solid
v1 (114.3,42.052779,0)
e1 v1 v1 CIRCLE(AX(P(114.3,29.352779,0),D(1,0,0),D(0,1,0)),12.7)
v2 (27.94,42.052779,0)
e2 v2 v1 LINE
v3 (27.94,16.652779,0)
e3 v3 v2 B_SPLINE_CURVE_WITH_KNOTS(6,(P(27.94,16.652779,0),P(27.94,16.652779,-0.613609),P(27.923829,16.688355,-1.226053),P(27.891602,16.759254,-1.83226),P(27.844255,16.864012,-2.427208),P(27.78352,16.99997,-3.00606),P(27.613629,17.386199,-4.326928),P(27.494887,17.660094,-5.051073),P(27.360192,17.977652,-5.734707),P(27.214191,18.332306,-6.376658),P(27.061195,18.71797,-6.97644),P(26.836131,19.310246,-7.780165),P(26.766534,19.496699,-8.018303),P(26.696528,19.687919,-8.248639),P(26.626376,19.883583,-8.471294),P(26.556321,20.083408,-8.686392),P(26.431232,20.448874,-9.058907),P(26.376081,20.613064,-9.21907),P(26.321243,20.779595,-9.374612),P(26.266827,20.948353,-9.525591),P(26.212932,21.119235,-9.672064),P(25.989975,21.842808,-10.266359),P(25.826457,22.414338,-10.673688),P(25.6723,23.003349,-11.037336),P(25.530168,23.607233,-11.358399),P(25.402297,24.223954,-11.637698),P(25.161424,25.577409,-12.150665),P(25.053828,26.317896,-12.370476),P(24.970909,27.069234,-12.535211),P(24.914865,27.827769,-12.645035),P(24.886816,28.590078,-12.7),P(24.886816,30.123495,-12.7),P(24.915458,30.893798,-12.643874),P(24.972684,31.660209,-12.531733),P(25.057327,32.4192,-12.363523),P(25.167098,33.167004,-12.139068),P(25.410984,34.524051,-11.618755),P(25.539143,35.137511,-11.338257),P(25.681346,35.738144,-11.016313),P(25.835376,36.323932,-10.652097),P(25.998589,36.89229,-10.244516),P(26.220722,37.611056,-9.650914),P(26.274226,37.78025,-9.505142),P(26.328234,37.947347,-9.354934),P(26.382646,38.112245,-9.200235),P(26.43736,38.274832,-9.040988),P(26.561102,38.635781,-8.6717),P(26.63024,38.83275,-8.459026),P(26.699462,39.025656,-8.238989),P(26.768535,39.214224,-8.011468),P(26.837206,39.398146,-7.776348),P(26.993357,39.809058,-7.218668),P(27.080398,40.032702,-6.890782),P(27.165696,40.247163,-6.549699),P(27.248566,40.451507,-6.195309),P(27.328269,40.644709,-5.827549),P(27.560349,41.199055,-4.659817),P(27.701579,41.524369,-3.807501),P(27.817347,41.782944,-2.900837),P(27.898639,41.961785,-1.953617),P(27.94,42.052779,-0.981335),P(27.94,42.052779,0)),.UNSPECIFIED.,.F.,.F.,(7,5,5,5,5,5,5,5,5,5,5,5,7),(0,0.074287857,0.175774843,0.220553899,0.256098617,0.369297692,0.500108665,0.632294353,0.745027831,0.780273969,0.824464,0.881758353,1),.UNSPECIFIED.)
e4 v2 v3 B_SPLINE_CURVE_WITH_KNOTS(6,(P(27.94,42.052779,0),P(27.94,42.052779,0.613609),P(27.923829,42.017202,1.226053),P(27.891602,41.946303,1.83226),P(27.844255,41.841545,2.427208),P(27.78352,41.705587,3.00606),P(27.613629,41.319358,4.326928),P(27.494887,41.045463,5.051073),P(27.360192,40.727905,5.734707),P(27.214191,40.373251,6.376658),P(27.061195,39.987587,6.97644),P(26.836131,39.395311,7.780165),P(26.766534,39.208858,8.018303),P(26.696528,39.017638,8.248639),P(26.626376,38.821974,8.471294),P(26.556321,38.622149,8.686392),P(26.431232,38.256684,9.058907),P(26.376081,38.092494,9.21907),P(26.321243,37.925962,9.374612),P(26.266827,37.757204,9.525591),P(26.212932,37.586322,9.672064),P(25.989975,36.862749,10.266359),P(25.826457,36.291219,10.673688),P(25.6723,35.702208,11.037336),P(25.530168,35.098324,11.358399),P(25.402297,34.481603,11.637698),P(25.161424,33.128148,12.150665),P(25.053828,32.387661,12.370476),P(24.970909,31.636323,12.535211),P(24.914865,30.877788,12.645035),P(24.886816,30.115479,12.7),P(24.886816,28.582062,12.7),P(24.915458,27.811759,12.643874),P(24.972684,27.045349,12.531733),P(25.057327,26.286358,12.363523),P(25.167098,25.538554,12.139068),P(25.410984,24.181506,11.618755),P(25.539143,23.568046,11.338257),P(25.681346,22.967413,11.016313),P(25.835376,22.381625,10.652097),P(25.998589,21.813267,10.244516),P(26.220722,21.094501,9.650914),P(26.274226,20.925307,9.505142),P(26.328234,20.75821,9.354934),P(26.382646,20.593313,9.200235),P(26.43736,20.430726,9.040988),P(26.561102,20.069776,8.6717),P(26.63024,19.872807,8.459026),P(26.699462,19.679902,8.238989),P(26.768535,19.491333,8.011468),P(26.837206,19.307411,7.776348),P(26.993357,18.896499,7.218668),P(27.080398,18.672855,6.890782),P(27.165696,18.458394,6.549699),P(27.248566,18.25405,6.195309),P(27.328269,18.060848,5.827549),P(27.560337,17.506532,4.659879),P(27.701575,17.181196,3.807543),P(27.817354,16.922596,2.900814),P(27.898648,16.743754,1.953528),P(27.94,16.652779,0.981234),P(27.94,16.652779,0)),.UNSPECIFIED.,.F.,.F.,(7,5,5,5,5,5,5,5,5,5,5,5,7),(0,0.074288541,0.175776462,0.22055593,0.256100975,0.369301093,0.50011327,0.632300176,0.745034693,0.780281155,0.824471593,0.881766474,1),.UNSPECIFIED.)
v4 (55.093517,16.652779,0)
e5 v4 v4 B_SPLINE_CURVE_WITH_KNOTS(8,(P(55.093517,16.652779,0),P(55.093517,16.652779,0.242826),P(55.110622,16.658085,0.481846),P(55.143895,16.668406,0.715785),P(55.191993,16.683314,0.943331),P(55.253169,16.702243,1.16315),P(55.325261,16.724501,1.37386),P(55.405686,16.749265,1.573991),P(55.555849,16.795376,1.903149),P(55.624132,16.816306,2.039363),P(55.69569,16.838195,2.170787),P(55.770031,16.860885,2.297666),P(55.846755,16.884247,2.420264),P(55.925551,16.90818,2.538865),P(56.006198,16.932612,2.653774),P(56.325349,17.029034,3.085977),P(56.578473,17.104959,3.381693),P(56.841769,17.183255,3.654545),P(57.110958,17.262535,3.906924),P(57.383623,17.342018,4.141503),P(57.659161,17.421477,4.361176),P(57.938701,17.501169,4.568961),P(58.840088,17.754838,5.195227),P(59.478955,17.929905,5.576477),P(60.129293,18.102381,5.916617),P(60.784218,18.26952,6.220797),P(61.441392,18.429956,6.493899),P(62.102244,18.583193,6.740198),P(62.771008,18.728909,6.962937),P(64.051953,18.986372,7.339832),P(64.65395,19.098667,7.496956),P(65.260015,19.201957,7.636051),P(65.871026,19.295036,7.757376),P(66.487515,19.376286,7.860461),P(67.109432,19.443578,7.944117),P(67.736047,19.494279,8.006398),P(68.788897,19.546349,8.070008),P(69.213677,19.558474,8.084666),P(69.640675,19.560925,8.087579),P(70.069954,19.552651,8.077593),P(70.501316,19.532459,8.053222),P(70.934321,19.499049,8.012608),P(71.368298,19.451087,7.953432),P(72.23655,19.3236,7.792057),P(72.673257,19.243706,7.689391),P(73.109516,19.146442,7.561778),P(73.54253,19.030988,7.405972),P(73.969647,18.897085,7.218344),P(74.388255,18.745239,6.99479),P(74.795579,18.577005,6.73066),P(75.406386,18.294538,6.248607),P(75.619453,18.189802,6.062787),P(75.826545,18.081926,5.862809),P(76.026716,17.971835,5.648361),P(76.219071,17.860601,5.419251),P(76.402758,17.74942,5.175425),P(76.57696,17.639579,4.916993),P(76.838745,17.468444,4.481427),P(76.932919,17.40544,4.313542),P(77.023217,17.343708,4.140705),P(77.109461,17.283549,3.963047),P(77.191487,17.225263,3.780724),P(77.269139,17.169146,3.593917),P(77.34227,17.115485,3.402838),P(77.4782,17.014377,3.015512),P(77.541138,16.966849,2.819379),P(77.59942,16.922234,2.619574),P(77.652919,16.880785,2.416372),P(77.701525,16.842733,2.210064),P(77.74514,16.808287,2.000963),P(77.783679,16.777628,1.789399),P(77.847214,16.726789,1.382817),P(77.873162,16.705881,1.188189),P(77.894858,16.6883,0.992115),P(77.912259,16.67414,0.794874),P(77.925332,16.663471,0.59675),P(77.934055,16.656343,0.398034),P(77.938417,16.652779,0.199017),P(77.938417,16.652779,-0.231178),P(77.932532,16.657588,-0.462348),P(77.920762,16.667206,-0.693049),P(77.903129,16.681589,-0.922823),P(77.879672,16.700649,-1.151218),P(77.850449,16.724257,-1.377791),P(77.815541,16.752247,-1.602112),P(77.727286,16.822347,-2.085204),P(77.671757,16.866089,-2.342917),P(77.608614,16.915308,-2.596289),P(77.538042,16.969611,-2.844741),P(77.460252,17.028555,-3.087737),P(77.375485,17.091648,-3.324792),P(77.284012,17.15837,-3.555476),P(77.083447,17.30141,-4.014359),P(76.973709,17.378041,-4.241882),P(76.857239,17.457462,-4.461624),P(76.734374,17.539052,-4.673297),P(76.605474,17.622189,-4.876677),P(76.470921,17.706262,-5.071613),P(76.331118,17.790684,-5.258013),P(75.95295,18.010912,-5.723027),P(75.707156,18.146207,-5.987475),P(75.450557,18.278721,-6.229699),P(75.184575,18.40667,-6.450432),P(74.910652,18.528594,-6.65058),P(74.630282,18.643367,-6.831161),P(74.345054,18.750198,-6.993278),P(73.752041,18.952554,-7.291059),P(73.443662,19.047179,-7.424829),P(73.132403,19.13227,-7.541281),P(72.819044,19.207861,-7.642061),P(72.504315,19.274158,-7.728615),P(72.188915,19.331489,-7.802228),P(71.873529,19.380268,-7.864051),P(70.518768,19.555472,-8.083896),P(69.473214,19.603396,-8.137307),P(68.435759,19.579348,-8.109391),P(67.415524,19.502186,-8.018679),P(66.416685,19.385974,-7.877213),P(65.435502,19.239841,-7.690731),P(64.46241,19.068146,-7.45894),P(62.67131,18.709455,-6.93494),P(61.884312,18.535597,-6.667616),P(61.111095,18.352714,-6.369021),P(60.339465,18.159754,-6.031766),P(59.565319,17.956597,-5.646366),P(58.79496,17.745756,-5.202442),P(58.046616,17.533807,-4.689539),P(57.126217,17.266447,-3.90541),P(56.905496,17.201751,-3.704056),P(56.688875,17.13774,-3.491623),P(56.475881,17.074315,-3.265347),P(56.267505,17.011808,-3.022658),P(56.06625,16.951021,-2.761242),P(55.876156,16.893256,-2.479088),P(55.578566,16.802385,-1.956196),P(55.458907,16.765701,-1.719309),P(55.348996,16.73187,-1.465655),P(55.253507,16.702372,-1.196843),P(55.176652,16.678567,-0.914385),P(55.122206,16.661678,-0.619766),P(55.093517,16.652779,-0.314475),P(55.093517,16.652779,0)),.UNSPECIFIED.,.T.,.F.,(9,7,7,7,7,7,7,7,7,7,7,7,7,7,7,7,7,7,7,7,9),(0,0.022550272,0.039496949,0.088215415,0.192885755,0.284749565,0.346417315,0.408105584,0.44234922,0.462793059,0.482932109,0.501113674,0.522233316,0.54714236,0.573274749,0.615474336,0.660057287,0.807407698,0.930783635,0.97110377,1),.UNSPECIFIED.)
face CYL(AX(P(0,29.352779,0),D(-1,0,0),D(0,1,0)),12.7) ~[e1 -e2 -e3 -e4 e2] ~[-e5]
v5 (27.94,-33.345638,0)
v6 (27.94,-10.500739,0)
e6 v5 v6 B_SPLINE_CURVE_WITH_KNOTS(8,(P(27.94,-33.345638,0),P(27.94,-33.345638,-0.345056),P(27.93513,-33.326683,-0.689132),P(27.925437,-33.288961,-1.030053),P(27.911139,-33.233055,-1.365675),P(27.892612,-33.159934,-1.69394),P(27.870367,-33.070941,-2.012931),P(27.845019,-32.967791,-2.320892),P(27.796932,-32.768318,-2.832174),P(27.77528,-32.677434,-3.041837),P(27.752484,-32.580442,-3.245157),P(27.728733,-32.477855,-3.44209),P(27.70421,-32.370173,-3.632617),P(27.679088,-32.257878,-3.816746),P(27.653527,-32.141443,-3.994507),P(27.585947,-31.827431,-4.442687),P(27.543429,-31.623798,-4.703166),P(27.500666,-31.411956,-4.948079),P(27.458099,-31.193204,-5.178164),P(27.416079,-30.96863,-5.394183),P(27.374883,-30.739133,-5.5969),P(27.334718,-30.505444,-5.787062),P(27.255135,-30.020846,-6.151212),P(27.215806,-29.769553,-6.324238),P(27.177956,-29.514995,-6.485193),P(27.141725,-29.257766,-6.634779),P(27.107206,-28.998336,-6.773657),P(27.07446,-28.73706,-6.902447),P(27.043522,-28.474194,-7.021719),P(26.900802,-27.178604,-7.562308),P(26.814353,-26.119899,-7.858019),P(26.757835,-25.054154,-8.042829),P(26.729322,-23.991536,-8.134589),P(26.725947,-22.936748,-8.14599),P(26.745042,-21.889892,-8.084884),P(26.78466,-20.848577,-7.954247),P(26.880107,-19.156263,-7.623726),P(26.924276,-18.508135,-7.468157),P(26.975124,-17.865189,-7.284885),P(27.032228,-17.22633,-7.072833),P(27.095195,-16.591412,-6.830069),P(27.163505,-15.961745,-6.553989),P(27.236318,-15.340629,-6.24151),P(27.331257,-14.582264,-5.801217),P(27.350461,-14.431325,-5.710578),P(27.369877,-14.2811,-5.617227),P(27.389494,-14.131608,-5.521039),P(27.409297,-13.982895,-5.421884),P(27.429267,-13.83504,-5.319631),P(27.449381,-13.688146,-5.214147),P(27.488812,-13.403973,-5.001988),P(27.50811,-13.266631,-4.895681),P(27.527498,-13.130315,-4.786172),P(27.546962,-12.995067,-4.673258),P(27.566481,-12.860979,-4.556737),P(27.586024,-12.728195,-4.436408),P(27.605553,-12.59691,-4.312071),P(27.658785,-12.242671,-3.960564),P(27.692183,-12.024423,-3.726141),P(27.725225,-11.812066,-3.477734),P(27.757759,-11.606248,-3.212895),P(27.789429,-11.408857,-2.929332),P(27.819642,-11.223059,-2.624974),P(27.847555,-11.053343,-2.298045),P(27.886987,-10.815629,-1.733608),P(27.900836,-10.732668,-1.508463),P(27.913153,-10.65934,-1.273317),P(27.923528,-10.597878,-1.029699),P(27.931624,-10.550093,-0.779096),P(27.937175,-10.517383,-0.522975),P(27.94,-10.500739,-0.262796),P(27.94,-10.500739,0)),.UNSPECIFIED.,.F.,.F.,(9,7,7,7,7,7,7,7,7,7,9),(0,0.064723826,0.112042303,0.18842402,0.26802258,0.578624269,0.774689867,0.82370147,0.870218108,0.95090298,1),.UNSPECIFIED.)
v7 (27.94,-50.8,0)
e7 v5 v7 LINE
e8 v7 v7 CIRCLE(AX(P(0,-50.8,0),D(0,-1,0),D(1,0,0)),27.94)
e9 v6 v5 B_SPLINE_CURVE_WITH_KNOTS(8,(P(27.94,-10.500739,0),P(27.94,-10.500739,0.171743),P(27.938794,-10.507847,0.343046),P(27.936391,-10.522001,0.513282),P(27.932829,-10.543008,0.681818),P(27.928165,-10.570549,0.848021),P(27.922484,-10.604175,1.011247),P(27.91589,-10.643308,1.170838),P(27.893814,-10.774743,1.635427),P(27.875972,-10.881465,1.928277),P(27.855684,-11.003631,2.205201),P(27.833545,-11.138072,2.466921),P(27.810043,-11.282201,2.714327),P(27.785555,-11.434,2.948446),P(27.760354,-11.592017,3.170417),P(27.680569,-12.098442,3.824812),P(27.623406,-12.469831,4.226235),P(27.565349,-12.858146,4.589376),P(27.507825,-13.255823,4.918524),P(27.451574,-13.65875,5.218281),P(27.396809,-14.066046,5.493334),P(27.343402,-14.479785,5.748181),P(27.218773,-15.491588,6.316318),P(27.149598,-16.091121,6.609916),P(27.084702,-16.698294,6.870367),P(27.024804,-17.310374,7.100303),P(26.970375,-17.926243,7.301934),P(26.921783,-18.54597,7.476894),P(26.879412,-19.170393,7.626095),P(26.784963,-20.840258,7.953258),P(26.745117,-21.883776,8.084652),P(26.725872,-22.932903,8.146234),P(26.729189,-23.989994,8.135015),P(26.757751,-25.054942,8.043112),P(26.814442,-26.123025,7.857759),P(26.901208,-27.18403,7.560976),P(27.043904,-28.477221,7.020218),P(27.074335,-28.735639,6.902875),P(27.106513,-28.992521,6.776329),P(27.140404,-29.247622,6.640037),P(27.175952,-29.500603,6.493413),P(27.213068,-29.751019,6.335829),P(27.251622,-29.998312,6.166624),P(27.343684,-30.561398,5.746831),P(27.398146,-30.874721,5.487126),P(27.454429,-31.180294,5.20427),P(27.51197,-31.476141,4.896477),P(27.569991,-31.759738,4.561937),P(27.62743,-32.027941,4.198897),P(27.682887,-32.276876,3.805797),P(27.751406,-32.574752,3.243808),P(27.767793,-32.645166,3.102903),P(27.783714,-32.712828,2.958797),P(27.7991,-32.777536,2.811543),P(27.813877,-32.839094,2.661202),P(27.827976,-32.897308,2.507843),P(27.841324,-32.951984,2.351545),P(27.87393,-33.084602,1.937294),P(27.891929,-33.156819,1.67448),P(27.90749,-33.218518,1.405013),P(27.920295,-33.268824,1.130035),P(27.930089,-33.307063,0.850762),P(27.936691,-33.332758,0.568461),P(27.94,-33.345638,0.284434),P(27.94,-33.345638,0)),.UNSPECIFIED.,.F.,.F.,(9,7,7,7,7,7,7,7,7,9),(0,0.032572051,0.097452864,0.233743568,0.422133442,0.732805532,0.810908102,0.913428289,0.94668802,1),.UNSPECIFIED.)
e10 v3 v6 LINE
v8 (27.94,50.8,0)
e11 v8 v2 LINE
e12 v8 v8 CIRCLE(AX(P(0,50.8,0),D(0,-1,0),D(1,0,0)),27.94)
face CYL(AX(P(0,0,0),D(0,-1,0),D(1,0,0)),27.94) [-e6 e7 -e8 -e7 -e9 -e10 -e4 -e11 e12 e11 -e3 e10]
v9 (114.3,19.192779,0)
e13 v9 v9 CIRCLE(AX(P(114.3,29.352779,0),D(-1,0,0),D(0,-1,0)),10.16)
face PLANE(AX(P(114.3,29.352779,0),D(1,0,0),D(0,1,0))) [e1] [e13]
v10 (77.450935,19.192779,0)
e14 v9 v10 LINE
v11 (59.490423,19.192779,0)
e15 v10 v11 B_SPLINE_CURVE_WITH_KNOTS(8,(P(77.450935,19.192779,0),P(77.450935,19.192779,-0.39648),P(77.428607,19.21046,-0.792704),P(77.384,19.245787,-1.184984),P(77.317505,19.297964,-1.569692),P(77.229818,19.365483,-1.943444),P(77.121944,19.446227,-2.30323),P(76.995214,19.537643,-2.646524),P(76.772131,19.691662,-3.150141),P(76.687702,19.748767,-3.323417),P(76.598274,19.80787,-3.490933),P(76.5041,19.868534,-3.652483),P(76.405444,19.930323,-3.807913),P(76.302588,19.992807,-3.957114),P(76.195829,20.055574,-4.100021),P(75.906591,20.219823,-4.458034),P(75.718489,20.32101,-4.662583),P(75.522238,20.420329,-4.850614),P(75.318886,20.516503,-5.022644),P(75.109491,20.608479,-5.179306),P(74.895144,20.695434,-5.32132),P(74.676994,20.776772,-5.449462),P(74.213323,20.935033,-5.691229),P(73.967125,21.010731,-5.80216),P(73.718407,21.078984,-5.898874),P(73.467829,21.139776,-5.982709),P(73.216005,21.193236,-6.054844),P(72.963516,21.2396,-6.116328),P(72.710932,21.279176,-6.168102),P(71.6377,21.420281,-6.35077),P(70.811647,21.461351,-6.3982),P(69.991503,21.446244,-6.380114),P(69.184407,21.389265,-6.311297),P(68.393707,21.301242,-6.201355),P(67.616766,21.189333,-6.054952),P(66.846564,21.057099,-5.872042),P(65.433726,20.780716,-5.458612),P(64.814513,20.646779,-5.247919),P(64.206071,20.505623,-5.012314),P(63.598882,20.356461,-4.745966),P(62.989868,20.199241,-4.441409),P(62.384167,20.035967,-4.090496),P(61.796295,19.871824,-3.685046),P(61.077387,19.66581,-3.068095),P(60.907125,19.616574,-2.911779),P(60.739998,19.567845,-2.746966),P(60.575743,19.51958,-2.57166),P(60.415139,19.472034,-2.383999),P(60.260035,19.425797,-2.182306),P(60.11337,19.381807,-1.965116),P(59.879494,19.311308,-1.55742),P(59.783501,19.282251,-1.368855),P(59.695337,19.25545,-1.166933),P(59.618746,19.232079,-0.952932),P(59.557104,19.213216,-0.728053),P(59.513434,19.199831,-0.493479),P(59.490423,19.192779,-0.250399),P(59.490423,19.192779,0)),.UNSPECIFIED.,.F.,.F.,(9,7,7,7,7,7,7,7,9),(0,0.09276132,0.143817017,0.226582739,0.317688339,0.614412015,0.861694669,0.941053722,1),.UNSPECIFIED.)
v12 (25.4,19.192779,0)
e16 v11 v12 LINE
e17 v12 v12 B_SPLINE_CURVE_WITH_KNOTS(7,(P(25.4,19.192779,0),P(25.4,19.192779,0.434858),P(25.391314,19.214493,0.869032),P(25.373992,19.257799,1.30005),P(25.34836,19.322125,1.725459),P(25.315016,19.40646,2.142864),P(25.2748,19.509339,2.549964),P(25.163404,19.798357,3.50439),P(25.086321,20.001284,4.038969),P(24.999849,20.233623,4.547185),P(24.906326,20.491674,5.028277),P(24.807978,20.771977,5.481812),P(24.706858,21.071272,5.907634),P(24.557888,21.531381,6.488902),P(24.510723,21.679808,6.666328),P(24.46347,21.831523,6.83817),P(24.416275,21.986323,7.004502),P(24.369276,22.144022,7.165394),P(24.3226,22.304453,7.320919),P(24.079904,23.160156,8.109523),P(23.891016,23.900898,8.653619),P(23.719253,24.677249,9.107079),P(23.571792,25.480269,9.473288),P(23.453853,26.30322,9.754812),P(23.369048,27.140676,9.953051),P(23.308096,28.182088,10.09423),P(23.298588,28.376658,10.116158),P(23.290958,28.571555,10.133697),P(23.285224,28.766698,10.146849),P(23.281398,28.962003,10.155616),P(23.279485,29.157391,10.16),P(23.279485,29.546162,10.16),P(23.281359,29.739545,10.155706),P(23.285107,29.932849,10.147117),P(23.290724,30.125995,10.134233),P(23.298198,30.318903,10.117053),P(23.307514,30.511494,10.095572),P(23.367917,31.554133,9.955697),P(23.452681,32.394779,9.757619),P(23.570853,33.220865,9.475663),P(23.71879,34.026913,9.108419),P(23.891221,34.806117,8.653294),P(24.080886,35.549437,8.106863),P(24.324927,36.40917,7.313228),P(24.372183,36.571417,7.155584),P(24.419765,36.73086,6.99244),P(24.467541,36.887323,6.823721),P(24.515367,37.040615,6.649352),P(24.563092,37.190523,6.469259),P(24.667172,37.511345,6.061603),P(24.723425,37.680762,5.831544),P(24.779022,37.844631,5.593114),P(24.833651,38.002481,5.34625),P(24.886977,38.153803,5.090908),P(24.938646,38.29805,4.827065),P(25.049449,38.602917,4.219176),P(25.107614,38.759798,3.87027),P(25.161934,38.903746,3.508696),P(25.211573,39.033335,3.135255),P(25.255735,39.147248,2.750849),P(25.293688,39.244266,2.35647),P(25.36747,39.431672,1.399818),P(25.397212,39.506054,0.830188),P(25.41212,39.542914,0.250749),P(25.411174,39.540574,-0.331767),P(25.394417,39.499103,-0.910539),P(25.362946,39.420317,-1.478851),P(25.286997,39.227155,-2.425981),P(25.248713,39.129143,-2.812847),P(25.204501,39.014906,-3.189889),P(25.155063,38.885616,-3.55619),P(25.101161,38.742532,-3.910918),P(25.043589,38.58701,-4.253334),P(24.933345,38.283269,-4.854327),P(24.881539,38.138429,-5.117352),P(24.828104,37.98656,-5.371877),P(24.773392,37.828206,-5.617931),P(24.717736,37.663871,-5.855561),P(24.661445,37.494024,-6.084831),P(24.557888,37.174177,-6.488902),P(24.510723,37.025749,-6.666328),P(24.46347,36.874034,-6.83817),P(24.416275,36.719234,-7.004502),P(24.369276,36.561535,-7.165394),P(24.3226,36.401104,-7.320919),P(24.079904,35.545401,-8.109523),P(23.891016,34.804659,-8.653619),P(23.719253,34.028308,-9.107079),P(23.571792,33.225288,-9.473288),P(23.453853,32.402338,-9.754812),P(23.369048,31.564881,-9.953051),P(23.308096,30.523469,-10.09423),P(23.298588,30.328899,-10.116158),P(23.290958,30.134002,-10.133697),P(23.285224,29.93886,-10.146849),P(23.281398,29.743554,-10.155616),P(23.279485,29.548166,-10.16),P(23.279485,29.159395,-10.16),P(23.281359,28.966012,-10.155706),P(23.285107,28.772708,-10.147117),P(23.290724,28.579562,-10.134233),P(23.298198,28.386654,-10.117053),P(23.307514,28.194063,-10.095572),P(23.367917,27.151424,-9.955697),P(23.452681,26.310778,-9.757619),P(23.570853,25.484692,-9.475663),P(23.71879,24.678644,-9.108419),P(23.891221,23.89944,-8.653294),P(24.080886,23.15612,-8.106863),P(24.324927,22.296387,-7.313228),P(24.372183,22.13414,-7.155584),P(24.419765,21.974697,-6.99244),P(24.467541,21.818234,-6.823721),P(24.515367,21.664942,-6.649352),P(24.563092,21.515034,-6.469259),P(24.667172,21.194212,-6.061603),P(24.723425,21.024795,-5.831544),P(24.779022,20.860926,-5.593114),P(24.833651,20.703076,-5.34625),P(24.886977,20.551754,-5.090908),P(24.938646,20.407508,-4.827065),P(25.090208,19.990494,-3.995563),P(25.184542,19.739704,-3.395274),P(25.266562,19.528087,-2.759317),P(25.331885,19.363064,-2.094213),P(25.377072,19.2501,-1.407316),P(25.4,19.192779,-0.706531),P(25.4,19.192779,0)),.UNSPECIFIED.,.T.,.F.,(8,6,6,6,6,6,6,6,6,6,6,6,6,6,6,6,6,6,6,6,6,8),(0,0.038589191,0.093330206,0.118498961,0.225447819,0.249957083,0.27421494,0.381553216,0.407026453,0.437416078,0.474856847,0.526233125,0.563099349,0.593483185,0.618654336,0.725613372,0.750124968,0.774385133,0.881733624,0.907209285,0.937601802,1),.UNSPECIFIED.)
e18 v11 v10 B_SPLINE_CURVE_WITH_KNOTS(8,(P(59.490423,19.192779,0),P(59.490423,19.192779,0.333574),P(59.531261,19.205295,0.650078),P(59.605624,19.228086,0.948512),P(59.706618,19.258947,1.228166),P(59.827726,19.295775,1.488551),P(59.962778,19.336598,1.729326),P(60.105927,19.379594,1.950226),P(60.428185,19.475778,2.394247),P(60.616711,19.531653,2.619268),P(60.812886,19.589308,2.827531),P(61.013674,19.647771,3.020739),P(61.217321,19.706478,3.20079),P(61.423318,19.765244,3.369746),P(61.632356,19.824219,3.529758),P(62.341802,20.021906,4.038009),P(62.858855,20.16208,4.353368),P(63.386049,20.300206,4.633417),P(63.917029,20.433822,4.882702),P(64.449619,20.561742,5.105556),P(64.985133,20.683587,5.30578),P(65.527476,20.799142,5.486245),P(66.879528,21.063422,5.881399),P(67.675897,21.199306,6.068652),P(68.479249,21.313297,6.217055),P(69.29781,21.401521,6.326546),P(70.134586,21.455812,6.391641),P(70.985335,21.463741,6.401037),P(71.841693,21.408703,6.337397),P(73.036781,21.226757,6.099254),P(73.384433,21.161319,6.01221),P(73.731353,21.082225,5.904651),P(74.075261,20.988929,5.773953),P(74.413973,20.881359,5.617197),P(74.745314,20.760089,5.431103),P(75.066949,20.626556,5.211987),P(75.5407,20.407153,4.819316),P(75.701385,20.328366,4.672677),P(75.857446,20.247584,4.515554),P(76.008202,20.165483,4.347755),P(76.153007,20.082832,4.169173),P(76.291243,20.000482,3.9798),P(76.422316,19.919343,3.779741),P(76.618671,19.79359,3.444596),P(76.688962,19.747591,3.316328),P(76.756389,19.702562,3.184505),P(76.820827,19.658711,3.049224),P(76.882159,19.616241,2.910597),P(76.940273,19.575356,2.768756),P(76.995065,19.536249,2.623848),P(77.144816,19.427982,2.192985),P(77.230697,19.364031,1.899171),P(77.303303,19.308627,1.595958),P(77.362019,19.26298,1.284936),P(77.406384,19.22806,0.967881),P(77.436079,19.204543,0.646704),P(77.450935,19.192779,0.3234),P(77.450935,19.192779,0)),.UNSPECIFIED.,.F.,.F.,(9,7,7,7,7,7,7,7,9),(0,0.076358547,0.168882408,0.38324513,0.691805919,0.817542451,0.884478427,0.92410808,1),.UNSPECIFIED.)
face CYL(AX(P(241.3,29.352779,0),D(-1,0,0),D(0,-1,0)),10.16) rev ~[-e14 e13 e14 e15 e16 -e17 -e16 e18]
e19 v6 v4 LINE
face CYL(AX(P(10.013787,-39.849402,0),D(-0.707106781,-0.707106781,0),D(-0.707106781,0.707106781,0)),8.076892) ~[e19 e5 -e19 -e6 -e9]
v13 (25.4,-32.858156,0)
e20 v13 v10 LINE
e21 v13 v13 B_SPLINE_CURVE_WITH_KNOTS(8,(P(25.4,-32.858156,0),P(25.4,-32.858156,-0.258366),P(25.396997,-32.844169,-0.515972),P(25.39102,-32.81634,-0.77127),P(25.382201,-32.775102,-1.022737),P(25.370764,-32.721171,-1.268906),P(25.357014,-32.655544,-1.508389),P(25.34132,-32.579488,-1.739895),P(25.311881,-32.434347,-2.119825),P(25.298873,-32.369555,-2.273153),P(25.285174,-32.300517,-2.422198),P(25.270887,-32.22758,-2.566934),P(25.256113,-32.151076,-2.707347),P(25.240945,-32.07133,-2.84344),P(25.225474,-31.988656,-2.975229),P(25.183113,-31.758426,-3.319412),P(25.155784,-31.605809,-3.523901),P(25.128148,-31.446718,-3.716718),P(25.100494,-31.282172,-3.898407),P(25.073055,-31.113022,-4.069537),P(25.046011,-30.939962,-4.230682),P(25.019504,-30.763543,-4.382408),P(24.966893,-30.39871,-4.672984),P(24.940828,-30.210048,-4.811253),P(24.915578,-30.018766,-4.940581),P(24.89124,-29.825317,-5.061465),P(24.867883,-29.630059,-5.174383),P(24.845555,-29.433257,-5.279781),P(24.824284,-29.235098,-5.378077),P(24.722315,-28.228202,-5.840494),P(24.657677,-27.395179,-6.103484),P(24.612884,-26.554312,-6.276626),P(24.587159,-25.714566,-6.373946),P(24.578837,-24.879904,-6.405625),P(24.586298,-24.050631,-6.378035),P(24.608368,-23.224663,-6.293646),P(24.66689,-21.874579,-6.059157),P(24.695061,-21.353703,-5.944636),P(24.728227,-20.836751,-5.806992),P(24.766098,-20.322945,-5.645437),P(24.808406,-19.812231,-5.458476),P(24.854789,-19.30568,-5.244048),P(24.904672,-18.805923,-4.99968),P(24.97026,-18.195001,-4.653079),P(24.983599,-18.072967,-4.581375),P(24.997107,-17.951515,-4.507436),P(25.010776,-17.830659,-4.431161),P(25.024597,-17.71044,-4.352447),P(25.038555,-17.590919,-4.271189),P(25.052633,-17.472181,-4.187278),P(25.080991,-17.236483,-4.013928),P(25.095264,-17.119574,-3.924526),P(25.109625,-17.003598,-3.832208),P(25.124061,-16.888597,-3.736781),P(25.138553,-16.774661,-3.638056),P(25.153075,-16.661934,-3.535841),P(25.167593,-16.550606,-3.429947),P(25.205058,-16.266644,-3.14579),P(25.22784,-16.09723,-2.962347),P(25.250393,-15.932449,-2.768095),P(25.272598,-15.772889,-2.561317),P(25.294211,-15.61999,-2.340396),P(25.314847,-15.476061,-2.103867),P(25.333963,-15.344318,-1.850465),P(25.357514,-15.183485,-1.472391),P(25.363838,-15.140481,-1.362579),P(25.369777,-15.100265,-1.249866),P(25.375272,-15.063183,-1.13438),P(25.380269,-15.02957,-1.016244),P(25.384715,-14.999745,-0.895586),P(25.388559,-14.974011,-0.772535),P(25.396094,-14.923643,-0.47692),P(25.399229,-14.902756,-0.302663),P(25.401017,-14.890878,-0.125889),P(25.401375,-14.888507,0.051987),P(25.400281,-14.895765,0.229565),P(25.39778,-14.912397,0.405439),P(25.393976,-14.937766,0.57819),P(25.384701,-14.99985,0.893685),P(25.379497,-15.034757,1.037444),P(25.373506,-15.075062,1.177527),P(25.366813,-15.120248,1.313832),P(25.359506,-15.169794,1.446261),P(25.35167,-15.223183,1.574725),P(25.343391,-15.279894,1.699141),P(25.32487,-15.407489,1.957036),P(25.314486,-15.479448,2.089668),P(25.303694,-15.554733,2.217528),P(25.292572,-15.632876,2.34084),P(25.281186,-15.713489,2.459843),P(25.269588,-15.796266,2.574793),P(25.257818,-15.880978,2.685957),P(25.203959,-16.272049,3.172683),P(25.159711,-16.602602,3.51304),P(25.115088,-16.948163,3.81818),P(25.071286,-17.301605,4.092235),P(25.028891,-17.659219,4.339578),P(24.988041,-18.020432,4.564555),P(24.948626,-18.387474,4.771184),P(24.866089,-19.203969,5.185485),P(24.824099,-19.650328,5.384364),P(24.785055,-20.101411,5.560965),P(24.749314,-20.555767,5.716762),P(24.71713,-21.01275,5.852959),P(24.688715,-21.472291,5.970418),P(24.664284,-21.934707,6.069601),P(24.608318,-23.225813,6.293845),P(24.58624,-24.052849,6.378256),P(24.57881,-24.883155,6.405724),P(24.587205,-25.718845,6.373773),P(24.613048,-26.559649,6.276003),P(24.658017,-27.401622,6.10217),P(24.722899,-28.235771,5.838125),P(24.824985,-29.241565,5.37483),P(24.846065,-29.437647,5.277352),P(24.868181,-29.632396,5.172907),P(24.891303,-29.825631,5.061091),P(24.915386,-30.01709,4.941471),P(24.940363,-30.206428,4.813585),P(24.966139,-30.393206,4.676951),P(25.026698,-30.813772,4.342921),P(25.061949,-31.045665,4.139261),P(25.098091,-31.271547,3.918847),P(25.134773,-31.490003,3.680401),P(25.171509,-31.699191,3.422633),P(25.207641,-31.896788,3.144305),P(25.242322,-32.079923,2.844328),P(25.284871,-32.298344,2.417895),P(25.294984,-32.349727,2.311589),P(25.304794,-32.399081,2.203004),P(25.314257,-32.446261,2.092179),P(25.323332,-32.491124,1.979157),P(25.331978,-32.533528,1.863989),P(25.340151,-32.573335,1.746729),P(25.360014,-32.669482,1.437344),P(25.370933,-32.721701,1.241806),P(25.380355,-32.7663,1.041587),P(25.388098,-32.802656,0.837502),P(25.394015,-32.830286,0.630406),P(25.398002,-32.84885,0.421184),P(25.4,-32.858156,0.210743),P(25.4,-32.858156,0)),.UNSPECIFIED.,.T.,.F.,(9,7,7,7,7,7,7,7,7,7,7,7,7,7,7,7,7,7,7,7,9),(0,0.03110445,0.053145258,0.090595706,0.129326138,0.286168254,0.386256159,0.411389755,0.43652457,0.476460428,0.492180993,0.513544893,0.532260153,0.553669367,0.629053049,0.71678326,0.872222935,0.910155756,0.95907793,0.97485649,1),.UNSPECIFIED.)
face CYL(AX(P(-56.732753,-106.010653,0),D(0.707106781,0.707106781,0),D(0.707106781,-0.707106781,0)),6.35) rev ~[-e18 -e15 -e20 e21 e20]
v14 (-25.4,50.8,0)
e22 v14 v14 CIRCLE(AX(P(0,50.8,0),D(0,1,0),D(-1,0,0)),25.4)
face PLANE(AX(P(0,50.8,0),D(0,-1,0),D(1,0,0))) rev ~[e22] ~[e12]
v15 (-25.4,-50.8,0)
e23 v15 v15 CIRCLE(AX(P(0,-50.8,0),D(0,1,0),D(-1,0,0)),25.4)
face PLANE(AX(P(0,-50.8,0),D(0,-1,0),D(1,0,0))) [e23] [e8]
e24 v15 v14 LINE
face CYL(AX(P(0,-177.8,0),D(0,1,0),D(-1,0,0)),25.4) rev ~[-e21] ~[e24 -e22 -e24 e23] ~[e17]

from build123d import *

# Parameters (mm, degrees)
F0_R      = 27.94
F1_DEPTH  = 50.8
F2_R      = 12.7
F3_DEPTH  = 114.3
F6_R      = 8.0768917326
F7_DEPTH  = 97.32637
F9_D      = 20.32
F9_DEPTH  = 127
F9_TIP    = 6.1047438893
F11_D     = 50.8
F11_DEPTH = 127
F11_TIP   = 15.2618597233
F13_D     = 12.7
F13_DEPTH = 93.98
F13_TIP   = 3.8154649308


with BuildPart() as f1:
    # F0 (on Front) → F1 (new body, symmetric)
    with BuildSketch(Plane.XZ):
        Circle(F0_R)
    extrude(amount=F1_DEPTH, both=True)

    # F2 (on Right) → F3 (join)
    with BuildSketch(Plane.YZ):
        with Locations((29.3527785689, 0)):
            Circle(F2_R)
    extrude(amount=F3_DEPTH)

    # F6 (on face) → F7 (join)
    with BuildSketch(Plane(origin=(-14.9178076535, -14.9178076535, 0), x_dir=(-0.7071067812, 0.7071067812, 0), z_dir=(0.7071067812, 0.7071067812, 0))):
        with Locations((-35.2585986257, 0)):
            Circle(F6_R)
    extrude(amount=F7_DEPTH)

    # F9
    with Locations(Plane.YZ.offset(114.3)):
        with Locations((29.3527785689, 0)):
            Hole(F9_D / 2, depth=F9_DEPTH)
            with Locations((0, 0, -(F9_DEPTH + F9_TIP / 2))):  # 118° drill point
                Cone(0, F9_D / 2, F9_TIP, mode=Mode.SUBTRACT)

    # F11
    with Locations(Plane.XZ.offset(50.8)):
        with Locations((0, 0)):
            Hole(F11_D / 2, depth=F11_DEPTH)
            with Locations((0, 0, -(F11_DEPTH + F11_TIP / 2))):  # 118° drill point
                Cone(0, F11_D / 2, F11_TIP, mode=Mode.SUBTRACT)

    # F13
    with Locations(Plane(origin=(-14.9178076535, -14.9178076535, 0), x_dir=(-0.7071067812, 0.7071067812, 0), z_dir=(-0.7071067812, -0.7071067812, 0))):
        with Locations((-34.8447375, 0)):
            Hole(F13_D / 2, depth=F13_DEPTH)
            with Locations((0, 0, -(F13_DEPTH + F13_TIP / 2))):  # 118° drill point
                Cone(0, F13_D / 2, F13_TIP, mode=Mode.SUBTRACT)


solid = f1.part
